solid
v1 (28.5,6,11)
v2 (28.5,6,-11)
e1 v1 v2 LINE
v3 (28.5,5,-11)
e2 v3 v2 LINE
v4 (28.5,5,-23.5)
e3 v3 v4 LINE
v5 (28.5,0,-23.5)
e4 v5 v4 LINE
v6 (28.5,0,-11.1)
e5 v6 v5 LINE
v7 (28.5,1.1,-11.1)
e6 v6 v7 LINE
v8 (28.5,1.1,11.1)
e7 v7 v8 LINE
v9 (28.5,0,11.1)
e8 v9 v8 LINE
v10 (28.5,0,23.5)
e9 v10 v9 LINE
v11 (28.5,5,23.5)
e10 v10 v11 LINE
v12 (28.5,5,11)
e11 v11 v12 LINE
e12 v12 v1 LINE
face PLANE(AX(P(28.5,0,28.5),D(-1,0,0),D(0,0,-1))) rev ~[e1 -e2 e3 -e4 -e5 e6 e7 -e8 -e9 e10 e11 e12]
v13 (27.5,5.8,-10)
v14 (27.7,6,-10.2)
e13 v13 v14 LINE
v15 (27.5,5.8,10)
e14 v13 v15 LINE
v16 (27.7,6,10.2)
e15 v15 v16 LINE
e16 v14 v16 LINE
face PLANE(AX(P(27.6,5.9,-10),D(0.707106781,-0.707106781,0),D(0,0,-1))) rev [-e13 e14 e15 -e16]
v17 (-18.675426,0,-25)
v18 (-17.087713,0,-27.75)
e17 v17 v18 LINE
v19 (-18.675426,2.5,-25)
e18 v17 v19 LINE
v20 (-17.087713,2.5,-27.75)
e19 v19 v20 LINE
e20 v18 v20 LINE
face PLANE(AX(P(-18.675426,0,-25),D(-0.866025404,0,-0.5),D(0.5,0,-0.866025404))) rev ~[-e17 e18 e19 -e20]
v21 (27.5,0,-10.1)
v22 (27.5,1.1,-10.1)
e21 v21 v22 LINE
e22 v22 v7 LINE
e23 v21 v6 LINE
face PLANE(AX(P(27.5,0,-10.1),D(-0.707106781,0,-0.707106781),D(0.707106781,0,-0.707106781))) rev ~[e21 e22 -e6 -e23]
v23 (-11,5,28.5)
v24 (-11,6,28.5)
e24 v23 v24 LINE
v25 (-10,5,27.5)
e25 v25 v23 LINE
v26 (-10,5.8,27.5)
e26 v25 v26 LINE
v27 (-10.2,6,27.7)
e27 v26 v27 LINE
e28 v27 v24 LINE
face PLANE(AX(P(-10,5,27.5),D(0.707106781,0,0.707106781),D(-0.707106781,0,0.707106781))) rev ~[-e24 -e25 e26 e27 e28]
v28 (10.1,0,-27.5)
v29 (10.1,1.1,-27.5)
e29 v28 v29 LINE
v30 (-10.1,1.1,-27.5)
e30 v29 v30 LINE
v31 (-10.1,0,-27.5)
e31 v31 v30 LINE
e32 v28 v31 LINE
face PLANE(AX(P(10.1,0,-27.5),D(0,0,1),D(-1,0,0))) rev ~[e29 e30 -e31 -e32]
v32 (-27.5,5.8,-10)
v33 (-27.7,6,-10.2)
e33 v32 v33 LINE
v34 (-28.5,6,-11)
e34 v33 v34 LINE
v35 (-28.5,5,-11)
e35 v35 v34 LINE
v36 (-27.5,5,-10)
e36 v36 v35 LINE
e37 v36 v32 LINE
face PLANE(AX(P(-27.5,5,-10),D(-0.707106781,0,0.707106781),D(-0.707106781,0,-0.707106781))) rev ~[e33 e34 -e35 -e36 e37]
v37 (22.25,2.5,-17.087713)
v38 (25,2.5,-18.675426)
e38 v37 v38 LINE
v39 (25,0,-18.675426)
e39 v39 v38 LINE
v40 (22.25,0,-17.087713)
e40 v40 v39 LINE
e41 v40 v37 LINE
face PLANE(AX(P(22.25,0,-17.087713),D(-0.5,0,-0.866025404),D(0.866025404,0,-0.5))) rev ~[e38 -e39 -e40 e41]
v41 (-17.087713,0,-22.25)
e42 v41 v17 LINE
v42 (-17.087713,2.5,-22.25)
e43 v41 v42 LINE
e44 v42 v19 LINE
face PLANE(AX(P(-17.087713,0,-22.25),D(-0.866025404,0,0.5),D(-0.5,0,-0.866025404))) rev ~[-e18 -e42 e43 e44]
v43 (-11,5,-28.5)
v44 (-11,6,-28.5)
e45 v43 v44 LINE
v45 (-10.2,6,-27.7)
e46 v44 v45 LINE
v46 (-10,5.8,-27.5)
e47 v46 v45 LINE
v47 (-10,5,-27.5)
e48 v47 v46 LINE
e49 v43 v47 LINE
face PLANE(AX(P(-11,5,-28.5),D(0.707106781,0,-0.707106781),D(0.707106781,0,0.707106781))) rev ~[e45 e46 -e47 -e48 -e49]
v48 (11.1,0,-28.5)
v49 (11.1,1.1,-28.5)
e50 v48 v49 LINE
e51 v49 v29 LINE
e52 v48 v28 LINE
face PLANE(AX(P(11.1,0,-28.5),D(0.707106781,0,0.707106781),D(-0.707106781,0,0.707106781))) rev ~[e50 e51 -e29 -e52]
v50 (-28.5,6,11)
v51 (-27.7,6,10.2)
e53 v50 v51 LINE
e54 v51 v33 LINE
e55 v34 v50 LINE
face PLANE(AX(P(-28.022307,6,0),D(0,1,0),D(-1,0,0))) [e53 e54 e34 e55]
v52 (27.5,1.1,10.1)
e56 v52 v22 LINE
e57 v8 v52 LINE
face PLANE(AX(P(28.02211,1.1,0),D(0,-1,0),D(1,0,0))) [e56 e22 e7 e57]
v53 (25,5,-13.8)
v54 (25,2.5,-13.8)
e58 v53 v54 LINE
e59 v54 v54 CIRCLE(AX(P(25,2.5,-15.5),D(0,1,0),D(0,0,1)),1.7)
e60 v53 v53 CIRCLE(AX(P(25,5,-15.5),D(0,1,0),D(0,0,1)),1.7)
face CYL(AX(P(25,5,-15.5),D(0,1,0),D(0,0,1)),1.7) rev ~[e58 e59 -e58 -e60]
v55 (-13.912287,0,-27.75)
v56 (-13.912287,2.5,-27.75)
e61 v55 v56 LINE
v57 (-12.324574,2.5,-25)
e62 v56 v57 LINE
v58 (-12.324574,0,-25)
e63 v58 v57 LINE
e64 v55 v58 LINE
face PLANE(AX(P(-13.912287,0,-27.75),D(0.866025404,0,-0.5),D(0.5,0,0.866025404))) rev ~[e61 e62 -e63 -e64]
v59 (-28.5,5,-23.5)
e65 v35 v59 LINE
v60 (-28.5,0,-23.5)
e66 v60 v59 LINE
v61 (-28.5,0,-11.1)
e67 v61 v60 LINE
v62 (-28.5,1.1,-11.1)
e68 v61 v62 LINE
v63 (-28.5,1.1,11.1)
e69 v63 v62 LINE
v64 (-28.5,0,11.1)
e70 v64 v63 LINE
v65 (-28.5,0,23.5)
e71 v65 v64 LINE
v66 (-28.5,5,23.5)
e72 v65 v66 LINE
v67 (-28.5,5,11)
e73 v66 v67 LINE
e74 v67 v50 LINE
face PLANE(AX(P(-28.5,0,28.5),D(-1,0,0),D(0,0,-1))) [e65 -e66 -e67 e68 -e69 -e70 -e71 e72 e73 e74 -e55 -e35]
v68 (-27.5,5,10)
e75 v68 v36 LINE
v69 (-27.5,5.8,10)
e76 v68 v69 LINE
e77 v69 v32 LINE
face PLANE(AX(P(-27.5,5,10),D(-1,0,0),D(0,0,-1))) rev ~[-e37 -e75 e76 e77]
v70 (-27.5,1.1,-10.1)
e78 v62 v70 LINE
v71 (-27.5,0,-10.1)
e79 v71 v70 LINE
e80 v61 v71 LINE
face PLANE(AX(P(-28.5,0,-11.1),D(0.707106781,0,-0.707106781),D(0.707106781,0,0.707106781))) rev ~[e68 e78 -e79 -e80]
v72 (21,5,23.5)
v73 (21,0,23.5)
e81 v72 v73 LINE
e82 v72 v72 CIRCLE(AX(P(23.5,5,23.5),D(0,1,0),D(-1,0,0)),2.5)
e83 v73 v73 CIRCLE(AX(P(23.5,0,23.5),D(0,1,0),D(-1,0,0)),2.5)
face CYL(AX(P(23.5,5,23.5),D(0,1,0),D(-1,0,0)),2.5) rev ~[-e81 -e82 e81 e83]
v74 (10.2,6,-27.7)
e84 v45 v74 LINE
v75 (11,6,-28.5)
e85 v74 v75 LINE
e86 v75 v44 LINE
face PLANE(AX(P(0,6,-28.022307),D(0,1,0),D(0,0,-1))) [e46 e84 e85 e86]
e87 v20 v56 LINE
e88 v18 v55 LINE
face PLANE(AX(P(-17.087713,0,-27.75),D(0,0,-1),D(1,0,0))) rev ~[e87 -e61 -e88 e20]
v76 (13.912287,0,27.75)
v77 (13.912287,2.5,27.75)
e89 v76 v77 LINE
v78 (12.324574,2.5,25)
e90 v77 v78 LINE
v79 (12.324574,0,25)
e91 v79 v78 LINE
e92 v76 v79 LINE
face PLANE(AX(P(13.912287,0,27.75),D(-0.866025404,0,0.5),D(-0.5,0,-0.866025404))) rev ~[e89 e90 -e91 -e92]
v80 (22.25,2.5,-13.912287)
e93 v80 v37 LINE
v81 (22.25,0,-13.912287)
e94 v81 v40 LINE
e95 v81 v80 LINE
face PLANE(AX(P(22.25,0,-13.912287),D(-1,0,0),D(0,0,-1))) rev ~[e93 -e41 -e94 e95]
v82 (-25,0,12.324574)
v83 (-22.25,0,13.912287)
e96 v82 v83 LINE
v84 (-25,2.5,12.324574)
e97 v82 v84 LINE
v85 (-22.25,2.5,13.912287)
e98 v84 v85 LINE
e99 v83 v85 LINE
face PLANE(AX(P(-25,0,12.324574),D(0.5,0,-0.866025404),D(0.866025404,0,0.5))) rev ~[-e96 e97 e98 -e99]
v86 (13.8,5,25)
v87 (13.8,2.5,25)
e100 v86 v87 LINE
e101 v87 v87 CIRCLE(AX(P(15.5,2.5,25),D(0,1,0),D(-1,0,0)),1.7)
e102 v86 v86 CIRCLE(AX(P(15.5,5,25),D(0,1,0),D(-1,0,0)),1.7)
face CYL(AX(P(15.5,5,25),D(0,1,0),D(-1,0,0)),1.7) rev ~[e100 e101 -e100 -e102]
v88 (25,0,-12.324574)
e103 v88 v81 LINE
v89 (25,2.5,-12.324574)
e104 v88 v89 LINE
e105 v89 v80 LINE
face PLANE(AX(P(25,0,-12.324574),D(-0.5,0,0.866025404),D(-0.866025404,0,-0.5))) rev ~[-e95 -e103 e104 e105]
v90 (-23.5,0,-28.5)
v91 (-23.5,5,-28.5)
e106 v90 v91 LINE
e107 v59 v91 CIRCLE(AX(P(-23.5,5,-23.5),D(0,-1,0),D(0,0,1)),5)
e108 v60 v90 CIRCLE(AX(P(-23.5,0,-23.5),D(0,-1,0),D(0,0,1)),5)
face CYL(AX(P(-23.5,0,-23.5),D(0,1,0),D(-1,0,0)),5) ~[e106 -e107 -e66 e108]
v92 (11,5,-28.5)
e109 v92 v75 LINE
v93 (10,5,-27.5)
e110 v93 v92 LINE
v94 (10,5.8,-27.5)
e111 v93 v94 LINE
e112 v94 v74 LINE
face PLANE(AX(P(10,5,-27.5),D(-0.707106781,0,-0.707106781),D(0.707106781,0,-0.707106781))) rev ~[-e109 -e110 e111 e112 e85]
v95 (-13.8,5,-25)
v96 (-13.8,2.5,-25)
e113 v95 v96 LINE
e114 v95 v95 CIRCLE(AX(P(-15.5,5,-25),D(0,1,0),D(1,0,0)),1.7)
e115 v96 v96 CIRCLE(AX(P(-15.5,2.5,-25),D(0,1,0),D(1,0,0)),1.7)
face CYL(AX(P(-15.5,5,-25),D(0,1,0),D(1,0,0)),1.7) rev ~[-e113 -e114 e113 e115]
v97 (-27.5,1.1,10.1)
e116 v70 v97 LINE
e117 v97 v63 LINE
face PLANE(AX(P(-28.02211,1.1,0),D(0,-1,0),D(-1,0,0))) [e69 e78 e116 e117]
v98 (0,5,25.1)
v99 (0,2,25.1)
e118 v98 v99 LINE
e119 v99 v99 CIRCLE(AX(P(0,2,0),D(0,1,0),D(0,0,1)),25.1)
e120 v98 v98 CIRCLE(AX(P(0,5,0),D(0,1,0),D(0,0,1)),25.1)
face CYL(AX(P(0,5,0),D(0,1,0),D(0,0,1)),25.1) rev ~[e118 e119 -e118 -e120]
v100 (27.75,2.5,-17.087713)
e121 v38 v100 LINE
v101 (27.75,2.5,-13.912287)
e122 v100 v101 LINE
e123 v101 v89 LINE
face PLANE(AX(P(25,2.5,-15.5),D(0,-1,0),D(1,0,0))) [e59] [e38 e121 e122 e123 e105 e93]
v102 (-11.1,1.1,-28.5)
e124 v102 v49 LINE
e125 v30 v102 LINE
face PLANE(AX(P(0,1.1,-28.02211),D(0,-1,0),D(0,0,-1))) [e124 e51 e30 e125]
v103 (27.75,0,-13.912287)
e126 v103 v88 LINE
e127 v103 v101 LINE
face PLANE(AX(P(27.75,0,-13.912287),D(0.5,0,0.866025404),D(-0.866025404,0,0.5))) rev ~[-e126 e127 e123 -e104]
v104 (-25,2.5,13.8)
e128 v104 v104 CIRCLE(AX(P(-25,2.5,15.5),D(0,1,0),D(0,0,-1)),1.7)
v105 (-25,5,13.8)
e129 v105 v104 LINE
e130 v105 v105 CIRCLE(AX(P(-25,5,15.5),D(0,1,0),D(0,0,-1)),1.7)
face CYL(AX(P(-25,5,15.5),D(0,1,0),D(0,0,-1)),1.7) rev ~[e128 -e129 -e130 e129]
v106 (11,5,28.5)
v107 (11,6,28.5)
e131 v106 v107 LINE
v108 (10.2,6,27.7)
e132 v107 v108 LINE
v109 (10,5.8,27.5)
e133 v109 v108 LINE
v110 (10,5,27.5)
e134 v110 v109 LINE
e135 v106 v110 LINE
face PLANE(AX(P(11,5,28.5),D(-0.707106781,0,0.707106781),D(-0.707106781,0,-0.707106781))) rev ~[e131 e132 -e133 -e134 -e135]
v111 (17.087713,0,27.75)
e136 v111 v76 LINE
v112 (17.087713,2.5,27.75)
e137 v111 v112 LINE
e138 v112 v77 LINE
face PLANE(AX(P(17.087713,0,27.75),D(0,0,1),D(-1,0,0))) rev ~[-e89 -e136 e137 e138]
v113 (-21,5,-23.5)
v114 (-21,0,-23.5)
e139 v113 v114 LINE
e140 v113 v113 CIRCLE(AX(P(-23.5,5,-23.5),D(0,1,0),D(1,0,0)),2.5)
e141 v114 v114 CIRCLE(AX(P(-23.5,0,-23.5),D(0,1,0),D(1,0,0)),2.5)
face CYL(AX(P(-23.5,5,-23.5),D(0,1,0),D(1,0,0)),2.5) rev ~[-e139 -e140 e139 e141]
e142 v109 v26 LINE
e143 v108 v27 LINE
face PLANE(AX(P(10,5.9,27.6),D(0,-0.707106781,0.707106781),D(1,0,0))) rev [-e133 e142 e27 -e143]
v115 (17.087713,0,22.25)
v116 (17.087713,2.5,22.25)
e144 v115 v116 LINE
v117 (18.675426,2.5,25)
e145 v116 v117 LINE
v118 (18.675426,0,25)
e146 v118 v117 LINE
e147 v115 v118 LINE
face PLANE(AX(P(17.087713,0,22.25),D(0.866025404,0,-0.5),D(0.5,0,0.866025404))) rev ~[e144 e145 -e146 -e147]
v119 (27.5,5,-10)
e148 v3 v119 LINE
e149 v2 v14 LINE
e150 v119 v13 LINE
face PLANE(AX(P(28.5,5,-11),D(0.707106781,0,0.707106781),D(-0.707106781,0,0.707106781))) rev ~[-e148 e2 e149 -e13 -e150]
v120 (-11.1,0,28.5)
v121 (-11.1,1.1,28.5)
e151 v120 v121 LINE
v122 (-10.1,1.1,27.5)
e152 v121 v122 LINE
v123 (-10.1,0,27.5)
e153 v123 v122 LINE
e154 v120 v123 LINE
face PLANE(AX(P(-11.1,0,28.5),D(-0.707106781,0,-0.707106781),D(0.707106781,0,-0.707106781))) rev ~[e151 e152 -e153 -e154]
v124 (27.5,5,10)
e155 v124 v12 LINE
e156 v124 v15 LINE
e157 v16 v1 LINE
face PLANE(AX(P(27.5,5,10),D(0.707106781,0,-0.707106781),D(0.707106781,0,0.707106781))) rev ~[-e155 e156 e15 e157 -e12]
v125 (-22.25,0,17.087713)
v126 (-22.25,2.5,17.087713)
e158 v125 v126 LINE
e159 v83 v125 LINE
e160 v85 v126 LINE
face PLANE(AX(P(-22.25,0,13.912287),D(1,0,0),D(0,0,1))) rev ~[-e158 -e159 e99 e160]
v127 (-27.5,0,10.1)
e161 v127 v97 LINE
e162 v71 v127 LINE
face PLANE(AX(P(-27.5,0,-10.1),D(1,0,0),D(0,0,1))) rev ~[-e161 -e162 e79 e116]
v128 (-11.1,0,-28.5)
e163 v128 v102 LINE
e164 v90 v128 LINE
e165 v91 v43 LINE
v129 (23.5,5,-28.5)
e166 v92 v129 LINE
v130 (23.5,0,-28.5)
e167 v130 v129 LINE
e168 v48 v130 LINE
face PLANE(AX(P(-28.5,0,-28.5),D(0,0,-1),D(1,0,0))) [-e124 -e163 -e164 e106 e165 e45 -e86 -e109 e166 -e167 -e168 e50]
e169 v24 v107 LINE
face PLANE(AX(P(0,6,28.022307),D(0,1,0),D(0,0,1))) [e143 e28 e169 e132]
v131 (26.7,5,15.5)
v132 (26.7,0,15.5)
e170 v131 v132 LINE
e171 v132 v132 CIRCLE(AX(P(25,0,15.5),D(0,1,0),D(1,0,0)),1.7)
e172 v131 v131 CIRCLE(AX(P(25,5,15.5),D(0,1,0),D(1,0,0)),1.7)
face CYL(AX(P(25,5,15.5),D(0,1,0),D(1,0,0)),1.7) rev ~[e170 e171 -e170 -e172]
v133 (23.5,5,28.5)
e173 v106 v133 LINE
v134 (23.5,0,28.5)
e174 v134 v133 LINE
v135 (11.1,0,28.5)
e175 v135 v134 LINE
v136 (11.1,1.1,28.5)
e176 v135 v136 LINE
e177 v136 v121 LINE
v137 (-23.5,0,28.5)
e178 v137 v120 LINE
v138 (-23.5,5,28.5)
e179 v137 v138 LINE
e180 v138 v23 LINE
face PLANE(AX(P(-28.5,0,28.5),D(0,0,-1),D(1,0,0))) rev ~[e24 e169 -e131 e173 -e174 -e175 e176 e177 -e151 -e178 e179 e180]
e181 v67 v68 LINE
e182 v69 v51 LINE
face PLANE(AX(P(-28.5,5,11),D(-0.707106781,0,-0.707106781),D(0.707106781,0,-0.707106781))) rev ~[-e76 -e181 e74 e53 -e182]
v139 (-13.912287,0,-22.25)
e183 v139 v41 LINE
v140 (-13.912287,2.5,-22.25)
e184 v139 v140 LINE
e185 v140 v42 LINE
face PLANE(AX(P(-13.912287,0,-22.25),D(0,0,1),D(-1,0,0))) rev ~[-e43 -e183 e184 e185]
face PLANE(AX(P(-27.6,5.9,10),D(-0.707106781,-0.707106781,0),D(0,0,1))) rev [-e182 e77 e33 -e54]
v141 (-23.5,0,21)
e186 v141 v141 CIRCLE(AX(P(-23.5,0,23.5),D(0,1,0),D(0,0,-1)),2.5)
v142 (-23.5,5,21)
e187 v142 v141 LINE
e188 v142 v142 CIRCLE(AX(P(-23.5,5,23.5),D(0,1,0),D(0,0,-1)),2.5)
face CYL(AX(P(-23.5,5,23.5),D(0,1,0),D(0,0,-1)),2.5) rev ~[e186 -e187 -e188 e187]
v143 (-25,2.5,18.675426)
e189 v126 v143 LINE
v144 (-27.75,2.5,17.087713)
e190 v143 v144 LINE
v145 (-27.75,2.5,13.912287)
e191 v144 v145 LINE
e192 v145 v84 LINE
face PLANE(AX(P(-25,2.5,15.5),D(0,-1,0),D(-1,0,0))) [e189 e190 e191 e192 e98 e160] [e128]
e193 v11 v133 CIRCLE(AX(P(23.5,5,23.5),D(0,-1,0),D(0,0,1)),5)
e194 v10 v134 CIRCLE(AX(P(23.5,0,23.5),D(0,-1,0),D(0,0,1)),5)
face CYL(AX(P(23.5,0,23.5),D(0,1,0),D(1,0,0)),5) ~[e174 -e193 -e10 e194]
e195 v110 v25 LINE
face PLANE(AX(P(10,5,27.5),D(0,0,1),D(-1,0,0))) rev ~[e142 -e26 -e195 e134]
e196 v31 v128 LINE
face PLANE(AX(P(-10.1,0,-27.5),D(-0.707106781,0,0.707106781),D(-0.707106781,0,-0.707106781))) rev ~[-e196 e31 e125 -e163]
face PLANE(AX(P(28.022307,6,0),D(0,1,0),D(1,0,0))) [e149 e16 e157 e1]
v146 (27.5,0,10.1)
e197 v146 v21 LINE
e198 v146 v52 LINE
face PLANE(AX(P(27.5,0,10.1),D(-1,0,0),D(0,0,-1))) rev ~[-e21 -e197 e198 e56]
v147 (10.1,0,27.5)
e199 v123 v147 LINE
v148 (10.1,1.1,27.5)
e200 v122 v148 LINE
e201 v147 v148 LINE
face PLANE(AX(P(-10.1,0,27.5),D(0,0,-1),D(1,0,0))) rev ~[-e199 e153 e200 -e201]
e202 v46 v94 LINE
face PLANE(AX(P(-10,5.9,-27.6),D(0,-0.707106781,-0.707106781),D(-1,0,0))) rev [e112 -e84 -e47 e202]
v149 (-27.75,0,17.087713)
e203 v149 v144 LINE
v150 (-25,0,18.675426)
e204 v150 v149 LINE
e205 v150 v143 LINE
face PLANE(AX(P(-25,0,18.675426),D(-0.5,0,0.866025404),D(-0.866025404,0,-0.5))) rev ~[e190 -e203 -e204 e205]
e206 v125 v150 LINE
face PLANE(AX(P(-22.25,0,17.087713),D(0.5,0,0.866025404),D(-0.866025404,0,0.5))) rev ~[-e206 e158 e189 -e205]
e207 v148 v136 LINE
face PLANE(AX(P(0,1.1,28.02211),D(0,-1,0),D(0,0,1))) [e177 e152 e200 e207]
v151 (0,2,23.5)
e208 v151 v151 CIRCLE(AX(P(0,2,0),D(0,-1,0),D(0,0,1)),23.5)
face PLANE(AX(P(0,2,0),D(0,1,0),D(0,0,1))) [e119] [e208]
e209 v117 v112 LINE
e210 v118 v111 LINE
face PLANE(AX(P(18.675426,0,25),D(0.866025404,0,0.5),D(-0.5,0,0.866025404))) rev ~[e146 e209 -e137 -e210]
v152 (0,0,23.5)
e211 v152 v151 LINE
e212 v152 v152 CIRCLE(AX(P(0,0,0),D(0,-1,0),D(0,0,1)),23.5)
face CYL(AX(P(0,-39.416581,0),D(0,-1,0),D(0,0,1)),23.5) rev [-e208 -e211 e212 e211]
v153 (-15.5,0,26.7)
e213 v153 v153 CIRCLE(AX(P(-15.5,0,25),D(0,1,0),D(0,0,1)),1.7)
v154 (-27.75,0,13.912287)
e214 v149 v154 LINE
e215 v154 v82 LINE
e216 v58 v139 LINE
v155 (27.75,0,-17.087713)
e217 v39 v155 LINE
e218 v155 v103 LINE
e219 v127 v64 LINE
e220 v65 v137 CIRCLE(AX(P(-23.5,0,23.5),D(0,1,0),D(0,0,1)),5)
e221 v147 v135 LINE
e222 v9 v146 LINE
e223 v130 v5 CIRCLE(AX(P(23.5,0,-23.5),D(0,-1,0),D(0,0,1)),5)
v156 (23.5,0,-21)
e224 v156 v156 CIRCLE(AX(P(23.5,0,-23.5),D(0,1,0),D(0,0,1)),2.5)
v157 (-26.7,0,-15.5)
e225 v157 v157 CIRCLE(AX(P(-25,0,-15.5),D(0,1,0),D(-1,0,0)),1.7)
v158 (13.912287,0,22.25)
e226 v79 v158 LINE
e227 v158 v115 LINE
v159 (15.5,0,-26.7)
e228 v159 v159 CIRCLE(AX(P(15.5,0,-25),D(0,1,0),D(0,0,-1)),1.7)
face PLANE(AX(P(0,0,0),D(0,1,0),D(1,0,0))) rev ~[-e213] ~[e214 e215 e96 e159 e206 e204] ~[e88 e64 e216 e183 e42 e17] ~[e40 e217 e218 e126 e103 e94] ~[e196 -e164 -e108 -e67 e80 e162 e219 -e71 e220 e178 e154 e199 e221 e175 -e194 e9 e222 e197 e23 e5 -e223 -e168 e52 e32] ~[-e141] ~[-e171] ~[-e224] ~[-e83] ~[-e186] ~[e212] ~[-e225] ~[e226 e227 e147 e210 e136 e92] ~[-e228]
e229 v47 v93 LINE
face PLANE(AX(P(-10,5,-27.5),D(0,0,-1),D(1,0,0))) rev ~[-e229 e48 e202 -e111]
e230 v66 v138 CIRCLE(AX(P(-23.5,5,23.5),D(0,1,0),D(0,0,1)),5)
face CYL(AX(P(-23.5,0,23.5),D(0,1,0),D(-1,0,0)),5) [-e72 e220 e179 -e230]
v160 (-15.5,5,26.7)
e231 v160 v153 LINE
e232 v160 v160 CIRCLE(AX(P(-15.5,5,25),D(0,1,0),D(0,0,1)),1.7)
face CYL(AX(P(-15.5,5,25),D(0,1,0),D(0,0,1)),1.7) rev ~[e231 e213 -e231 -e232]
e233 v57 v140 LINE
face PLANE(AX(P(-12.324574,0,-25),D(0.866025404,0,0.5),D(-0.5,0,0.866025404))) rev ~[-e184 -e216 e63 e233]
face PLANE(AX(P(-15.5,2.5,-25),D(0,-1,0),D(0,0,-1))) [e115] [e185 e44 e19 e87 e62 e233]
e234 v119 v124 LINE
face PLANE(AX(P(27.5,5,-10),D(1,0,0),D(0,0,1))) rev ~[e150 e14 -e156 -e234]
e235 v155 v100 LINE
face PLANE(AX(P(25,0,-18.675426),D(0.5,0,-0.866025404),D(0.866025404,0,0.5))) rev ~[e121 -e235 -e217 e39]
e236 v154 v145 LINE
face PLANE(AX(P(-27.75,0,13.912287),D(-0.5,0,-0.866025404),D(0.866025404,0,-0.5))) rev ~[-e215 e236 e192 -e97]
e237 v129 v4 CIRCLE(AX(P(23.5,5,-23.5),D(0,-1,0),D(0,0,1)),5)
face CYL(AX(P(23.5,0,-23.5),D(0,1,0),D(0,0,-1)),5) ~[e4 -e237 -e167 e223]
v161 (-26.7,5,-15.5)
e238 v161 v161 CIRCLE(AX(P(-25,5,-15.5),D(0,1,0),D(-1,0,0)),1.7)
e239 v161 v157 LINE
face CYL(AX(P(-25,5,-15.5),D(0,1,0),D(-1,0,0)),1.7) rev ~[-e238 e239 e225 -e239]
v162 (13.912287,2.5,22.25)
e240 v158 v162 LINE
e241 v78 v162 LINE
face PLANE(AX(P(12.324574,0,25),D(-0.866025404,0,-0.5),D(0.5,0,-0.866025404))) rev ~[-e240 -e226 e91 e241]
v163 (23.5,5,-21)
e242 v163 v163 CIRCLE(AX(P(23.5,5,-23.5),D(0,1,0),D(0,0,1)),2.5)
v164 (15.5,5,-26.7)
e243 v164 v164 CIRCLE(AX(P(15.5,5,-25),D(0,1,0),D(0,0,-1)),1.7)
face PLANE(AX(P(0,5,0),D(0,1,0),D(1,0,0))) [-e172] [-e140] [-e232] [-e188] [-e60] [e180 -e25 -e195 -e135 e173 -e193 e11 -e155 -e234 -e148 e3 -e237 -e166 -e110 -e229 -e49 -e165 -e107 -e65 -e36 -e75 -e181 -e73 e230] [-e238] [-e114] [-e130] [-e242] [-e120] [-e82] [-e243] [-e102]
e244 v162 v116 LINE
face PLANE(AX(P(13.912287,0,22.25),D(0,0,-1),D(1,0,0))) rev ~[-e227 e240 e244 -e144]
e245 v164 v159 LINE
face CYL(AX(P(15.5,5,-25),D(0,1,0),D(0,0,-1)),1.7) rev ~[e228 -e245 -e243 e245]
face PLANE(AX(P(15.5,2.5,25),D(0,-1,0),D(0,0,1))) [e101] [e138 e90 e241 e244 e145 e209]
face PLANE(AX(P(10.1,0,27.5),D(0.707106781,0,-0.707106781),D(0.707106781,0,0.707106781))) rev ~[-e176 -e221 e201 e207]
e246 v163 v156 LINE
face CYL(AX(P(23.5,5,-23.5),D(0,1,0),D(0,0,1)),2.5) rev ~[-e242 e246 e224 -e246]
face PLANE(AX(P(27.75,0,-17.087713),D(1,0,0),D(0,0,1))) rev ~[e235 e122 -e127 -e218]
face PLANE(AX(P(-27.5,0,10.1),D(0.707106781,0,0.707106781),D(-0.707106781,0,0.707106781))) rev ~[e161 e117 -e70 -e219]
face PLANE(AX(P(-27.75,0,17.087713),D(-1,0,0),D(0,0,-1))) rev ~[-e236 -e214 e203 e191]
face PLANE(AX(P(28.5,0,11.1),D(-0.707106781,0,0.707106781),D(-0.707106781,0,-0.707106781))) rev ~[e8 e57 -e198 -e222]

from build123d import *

# Parameters (mm, degrees)
SKETCH_1_W                           = 57
SKETCH_1_H                           = 57
EXTRUDE_1_DEPTH                      = 5
SKETCH_2_R                           = 25.1
CUT_EXTRUDE_1_DEPTH                  = 3
CUT_EXTRUDE_5_DEPTH                  = 41.416580756
CUT_EXTRUDE_5_DEPTH_BACK             = 41.416580756
SKETCH_8_R                           = 23.5
SKETCH_3_R                           = 2.5
SKETCH_3_R_2                         = 1.7
CUT_EXTRUDE_2_DEPTH                  = 41.614036982
CUT_EXTRUDE_4_DEPTH                  = 2.5
EXTRUDE_2_DEPTH                      = 1
CHAMFER_1_SIZE                       = 0.2
CUT_EXTRUDE_3_DEPTH                  = 1.1
PATTERN_CIRCULAR_1_COUNT             = 4
CHAMFER_1_OF_PATTERN_CIRCULAR_1_SIZE = 0.2
FILLET_1_R                           = 5


with BuildPart() as part:
    # 草图1 → 凸台-拉伸1 (new body)
    with BuildSketch(Plane(origin=(0, 0, 0), x_dir=(1, 0, 0), z_dir=(0, 1, 0))):
        Rectangle(SKETCH_1_W, SKETCH_1_H)
    extrude(amount=EXTRUDE_1_DEPTH)

    # 草图2 → 切除-拉伸1 (cut)
    with BuildSketch(Plane(origin=(0, 5, 0), x_dir=(1, 0, 0), z_dir=(0, 1, 0))):
        with Locations(Location((0, 0, 0), (0, 0, 270))):
            Circle(SKETCH_2_R)
    extrude(amount=-CUT_EXTRUDE_1_DEPTH, mode=Mode.SUBTRACT)

    # 草图8 → 切除-拉伸5 (cut, two sides: drawn at the far end of the back side and taken through both)
    with BuildSketch(Plane(origin=(0, 2, 0), x_dir=(1, 0, 0), z_dir=(0, 1, 0)).offset(-CUT_EXTRUDE_5_DEPTH_BACK)):
        with Locations(Location((0, 0, 0), (0, 0, 270))):
            Circle(SKETCH_8_R)
    extrude(amount=CUT_EXTRUDE_5_DEPTH + CUT_EXTRUDE_5_DEPTH_BACK, mode=Mode.SUBTRACT)

    # 草图3 → 切除-拉伸2 (cut, through all)
    with BuildSketch(Plane(origin=(0, 5, 0), x_dir=(1, 0, 0), z_dir=(0, 1, 0))):
        with Locations(Location((23.5, 23.5, 0), (0, 0, 270))):
            Circle(SKETCH_3_R)
        with Locations(Location((25, 15.5, 0), (0, 0, 270))):
            Circle(SKETCH_3_R_2)
        with Locations(Location((15.5, 25, 0), (0, 0, 90))):
            Circle(SKETCH_3_R_2)
    cut_extrude_2 = extrude(amount=-CUT_EXTRUDE_2_DEPTH, mode=Mode.SUBTRACT)

    # 草图7 → 切除-拉伸4 (cut)
    with BuildSketch(Plane.XZ):
        Polygon((27.75, -13.91228676), (25, -12.324573519), (22.25, -13.91228676), (22.25, -17.08771324), (25, -18.675426481), (27.75, -17.08771324), align=None)
    cut_extrude_4 = extrude(amount=-CUT_EXTRUDE_4_DEPTH, mode=Mode.SUBTRACT)

    # 草图4 → 凸台-拉伸2 (add)
    with BuildSketch(Plane(origin=(0, 5, 0), x_dir=(1, 0, 0), z_dir=(0, 1, 0))):
        Polygon((28.5, 11), (27.5, 10), (27.5, -10), (28.5, -11), align=None)
    extrude_2 = extrude(amount=EXTRUDE_2_DEPTH)

    # 倒角1
    chamfer_1_edges = [part.edges().sort_by_distance(p)[0] for p in [
        (27.5, 6, 0),
    ]]
    chamfer(chamfer_1_edges, length=CHAMFER_1_SIZE)

    # 草图5 → 切除-拉伸3 (cut)
    with BuildSketch(Plane.XZ):
        Polygon((28.5, 11.1), (27.5, 10.1), (27.5, -10.1), (28.5, -11.1), align=None)
    cut_extrude_3 = extrude(amount=-CUT_EXTRUDE_3_DEPTH, mode=Mode.SUBTRACT)

    # 阵列(圆周)1: 切除-拉伸2, 切除-拉伸4, 凸台-拉伸2, 切除-拉伸3 ×4 about axis
    pattern_circular_1_axis = Axis((0, 0, 0), (0, 1, 0))
    add([cut_extrude_2.rotate(pattern_circular_1_axis, i * 360 / PATTERN_CIRCULAR_1_COUNT) for i in range(1, PATTERN_CIRCULAR_1_COUNT)], mode=Mode.SUBTRACT)
    add([cut_extrude_4.rotate(pattern_circular_1_axis, i * 360 / PATTERN_CIRCULAR_1_COUNT) for i in range(1, PATTERN_CIRCULAR_1_COUNT)], mode=Mode.SUBTRACT)
    add([extrude_2.rotate(pattern_circular_1_axis, i * 360 / PATTERN_CIRCULAR_1_COUNT) for i in range(1, PATTERN_CIRCULAR_1_COUNT)])
    add([cut_extrude_3.rotate(pattern_circular_1_axis, i * 360 / PATTERN_CIRCULAR_1_COUNT) for i in range(1, PATTERN_CIRCULAR_1_COUNT)], mode=Mode.SUBTRACT)

    # 倒角1 of 阵列(圆周)1
    chamfer_1_of_pattern_circular_1_edges = [part.edges().sort_by_distance(p)[0] for p in [
        (0, 6, -27.5),
        (-27.5, 6, 0),
        (0, 6, 27.5),
    ]]
    chamfer(chamfer_1_of_pattern_circular_1_edges, length=CHAMFER_1_OF_PATTERN_CIRCULAR_1_SIZE)

    # 圆角1
    fillet_1_edges = [part.edges().sort_by_distance(p)[0] for p in [
        (28.5, 2.5, 28.5),
        (-28.5, 2.5, 28.5),
        (-28.5, 2.5, -28.5),
        (28.5, 2.5, -28.5),
    ]]
    fillet(fillet_1_edges, radius=FILLET_1_R)


solid = part.part
